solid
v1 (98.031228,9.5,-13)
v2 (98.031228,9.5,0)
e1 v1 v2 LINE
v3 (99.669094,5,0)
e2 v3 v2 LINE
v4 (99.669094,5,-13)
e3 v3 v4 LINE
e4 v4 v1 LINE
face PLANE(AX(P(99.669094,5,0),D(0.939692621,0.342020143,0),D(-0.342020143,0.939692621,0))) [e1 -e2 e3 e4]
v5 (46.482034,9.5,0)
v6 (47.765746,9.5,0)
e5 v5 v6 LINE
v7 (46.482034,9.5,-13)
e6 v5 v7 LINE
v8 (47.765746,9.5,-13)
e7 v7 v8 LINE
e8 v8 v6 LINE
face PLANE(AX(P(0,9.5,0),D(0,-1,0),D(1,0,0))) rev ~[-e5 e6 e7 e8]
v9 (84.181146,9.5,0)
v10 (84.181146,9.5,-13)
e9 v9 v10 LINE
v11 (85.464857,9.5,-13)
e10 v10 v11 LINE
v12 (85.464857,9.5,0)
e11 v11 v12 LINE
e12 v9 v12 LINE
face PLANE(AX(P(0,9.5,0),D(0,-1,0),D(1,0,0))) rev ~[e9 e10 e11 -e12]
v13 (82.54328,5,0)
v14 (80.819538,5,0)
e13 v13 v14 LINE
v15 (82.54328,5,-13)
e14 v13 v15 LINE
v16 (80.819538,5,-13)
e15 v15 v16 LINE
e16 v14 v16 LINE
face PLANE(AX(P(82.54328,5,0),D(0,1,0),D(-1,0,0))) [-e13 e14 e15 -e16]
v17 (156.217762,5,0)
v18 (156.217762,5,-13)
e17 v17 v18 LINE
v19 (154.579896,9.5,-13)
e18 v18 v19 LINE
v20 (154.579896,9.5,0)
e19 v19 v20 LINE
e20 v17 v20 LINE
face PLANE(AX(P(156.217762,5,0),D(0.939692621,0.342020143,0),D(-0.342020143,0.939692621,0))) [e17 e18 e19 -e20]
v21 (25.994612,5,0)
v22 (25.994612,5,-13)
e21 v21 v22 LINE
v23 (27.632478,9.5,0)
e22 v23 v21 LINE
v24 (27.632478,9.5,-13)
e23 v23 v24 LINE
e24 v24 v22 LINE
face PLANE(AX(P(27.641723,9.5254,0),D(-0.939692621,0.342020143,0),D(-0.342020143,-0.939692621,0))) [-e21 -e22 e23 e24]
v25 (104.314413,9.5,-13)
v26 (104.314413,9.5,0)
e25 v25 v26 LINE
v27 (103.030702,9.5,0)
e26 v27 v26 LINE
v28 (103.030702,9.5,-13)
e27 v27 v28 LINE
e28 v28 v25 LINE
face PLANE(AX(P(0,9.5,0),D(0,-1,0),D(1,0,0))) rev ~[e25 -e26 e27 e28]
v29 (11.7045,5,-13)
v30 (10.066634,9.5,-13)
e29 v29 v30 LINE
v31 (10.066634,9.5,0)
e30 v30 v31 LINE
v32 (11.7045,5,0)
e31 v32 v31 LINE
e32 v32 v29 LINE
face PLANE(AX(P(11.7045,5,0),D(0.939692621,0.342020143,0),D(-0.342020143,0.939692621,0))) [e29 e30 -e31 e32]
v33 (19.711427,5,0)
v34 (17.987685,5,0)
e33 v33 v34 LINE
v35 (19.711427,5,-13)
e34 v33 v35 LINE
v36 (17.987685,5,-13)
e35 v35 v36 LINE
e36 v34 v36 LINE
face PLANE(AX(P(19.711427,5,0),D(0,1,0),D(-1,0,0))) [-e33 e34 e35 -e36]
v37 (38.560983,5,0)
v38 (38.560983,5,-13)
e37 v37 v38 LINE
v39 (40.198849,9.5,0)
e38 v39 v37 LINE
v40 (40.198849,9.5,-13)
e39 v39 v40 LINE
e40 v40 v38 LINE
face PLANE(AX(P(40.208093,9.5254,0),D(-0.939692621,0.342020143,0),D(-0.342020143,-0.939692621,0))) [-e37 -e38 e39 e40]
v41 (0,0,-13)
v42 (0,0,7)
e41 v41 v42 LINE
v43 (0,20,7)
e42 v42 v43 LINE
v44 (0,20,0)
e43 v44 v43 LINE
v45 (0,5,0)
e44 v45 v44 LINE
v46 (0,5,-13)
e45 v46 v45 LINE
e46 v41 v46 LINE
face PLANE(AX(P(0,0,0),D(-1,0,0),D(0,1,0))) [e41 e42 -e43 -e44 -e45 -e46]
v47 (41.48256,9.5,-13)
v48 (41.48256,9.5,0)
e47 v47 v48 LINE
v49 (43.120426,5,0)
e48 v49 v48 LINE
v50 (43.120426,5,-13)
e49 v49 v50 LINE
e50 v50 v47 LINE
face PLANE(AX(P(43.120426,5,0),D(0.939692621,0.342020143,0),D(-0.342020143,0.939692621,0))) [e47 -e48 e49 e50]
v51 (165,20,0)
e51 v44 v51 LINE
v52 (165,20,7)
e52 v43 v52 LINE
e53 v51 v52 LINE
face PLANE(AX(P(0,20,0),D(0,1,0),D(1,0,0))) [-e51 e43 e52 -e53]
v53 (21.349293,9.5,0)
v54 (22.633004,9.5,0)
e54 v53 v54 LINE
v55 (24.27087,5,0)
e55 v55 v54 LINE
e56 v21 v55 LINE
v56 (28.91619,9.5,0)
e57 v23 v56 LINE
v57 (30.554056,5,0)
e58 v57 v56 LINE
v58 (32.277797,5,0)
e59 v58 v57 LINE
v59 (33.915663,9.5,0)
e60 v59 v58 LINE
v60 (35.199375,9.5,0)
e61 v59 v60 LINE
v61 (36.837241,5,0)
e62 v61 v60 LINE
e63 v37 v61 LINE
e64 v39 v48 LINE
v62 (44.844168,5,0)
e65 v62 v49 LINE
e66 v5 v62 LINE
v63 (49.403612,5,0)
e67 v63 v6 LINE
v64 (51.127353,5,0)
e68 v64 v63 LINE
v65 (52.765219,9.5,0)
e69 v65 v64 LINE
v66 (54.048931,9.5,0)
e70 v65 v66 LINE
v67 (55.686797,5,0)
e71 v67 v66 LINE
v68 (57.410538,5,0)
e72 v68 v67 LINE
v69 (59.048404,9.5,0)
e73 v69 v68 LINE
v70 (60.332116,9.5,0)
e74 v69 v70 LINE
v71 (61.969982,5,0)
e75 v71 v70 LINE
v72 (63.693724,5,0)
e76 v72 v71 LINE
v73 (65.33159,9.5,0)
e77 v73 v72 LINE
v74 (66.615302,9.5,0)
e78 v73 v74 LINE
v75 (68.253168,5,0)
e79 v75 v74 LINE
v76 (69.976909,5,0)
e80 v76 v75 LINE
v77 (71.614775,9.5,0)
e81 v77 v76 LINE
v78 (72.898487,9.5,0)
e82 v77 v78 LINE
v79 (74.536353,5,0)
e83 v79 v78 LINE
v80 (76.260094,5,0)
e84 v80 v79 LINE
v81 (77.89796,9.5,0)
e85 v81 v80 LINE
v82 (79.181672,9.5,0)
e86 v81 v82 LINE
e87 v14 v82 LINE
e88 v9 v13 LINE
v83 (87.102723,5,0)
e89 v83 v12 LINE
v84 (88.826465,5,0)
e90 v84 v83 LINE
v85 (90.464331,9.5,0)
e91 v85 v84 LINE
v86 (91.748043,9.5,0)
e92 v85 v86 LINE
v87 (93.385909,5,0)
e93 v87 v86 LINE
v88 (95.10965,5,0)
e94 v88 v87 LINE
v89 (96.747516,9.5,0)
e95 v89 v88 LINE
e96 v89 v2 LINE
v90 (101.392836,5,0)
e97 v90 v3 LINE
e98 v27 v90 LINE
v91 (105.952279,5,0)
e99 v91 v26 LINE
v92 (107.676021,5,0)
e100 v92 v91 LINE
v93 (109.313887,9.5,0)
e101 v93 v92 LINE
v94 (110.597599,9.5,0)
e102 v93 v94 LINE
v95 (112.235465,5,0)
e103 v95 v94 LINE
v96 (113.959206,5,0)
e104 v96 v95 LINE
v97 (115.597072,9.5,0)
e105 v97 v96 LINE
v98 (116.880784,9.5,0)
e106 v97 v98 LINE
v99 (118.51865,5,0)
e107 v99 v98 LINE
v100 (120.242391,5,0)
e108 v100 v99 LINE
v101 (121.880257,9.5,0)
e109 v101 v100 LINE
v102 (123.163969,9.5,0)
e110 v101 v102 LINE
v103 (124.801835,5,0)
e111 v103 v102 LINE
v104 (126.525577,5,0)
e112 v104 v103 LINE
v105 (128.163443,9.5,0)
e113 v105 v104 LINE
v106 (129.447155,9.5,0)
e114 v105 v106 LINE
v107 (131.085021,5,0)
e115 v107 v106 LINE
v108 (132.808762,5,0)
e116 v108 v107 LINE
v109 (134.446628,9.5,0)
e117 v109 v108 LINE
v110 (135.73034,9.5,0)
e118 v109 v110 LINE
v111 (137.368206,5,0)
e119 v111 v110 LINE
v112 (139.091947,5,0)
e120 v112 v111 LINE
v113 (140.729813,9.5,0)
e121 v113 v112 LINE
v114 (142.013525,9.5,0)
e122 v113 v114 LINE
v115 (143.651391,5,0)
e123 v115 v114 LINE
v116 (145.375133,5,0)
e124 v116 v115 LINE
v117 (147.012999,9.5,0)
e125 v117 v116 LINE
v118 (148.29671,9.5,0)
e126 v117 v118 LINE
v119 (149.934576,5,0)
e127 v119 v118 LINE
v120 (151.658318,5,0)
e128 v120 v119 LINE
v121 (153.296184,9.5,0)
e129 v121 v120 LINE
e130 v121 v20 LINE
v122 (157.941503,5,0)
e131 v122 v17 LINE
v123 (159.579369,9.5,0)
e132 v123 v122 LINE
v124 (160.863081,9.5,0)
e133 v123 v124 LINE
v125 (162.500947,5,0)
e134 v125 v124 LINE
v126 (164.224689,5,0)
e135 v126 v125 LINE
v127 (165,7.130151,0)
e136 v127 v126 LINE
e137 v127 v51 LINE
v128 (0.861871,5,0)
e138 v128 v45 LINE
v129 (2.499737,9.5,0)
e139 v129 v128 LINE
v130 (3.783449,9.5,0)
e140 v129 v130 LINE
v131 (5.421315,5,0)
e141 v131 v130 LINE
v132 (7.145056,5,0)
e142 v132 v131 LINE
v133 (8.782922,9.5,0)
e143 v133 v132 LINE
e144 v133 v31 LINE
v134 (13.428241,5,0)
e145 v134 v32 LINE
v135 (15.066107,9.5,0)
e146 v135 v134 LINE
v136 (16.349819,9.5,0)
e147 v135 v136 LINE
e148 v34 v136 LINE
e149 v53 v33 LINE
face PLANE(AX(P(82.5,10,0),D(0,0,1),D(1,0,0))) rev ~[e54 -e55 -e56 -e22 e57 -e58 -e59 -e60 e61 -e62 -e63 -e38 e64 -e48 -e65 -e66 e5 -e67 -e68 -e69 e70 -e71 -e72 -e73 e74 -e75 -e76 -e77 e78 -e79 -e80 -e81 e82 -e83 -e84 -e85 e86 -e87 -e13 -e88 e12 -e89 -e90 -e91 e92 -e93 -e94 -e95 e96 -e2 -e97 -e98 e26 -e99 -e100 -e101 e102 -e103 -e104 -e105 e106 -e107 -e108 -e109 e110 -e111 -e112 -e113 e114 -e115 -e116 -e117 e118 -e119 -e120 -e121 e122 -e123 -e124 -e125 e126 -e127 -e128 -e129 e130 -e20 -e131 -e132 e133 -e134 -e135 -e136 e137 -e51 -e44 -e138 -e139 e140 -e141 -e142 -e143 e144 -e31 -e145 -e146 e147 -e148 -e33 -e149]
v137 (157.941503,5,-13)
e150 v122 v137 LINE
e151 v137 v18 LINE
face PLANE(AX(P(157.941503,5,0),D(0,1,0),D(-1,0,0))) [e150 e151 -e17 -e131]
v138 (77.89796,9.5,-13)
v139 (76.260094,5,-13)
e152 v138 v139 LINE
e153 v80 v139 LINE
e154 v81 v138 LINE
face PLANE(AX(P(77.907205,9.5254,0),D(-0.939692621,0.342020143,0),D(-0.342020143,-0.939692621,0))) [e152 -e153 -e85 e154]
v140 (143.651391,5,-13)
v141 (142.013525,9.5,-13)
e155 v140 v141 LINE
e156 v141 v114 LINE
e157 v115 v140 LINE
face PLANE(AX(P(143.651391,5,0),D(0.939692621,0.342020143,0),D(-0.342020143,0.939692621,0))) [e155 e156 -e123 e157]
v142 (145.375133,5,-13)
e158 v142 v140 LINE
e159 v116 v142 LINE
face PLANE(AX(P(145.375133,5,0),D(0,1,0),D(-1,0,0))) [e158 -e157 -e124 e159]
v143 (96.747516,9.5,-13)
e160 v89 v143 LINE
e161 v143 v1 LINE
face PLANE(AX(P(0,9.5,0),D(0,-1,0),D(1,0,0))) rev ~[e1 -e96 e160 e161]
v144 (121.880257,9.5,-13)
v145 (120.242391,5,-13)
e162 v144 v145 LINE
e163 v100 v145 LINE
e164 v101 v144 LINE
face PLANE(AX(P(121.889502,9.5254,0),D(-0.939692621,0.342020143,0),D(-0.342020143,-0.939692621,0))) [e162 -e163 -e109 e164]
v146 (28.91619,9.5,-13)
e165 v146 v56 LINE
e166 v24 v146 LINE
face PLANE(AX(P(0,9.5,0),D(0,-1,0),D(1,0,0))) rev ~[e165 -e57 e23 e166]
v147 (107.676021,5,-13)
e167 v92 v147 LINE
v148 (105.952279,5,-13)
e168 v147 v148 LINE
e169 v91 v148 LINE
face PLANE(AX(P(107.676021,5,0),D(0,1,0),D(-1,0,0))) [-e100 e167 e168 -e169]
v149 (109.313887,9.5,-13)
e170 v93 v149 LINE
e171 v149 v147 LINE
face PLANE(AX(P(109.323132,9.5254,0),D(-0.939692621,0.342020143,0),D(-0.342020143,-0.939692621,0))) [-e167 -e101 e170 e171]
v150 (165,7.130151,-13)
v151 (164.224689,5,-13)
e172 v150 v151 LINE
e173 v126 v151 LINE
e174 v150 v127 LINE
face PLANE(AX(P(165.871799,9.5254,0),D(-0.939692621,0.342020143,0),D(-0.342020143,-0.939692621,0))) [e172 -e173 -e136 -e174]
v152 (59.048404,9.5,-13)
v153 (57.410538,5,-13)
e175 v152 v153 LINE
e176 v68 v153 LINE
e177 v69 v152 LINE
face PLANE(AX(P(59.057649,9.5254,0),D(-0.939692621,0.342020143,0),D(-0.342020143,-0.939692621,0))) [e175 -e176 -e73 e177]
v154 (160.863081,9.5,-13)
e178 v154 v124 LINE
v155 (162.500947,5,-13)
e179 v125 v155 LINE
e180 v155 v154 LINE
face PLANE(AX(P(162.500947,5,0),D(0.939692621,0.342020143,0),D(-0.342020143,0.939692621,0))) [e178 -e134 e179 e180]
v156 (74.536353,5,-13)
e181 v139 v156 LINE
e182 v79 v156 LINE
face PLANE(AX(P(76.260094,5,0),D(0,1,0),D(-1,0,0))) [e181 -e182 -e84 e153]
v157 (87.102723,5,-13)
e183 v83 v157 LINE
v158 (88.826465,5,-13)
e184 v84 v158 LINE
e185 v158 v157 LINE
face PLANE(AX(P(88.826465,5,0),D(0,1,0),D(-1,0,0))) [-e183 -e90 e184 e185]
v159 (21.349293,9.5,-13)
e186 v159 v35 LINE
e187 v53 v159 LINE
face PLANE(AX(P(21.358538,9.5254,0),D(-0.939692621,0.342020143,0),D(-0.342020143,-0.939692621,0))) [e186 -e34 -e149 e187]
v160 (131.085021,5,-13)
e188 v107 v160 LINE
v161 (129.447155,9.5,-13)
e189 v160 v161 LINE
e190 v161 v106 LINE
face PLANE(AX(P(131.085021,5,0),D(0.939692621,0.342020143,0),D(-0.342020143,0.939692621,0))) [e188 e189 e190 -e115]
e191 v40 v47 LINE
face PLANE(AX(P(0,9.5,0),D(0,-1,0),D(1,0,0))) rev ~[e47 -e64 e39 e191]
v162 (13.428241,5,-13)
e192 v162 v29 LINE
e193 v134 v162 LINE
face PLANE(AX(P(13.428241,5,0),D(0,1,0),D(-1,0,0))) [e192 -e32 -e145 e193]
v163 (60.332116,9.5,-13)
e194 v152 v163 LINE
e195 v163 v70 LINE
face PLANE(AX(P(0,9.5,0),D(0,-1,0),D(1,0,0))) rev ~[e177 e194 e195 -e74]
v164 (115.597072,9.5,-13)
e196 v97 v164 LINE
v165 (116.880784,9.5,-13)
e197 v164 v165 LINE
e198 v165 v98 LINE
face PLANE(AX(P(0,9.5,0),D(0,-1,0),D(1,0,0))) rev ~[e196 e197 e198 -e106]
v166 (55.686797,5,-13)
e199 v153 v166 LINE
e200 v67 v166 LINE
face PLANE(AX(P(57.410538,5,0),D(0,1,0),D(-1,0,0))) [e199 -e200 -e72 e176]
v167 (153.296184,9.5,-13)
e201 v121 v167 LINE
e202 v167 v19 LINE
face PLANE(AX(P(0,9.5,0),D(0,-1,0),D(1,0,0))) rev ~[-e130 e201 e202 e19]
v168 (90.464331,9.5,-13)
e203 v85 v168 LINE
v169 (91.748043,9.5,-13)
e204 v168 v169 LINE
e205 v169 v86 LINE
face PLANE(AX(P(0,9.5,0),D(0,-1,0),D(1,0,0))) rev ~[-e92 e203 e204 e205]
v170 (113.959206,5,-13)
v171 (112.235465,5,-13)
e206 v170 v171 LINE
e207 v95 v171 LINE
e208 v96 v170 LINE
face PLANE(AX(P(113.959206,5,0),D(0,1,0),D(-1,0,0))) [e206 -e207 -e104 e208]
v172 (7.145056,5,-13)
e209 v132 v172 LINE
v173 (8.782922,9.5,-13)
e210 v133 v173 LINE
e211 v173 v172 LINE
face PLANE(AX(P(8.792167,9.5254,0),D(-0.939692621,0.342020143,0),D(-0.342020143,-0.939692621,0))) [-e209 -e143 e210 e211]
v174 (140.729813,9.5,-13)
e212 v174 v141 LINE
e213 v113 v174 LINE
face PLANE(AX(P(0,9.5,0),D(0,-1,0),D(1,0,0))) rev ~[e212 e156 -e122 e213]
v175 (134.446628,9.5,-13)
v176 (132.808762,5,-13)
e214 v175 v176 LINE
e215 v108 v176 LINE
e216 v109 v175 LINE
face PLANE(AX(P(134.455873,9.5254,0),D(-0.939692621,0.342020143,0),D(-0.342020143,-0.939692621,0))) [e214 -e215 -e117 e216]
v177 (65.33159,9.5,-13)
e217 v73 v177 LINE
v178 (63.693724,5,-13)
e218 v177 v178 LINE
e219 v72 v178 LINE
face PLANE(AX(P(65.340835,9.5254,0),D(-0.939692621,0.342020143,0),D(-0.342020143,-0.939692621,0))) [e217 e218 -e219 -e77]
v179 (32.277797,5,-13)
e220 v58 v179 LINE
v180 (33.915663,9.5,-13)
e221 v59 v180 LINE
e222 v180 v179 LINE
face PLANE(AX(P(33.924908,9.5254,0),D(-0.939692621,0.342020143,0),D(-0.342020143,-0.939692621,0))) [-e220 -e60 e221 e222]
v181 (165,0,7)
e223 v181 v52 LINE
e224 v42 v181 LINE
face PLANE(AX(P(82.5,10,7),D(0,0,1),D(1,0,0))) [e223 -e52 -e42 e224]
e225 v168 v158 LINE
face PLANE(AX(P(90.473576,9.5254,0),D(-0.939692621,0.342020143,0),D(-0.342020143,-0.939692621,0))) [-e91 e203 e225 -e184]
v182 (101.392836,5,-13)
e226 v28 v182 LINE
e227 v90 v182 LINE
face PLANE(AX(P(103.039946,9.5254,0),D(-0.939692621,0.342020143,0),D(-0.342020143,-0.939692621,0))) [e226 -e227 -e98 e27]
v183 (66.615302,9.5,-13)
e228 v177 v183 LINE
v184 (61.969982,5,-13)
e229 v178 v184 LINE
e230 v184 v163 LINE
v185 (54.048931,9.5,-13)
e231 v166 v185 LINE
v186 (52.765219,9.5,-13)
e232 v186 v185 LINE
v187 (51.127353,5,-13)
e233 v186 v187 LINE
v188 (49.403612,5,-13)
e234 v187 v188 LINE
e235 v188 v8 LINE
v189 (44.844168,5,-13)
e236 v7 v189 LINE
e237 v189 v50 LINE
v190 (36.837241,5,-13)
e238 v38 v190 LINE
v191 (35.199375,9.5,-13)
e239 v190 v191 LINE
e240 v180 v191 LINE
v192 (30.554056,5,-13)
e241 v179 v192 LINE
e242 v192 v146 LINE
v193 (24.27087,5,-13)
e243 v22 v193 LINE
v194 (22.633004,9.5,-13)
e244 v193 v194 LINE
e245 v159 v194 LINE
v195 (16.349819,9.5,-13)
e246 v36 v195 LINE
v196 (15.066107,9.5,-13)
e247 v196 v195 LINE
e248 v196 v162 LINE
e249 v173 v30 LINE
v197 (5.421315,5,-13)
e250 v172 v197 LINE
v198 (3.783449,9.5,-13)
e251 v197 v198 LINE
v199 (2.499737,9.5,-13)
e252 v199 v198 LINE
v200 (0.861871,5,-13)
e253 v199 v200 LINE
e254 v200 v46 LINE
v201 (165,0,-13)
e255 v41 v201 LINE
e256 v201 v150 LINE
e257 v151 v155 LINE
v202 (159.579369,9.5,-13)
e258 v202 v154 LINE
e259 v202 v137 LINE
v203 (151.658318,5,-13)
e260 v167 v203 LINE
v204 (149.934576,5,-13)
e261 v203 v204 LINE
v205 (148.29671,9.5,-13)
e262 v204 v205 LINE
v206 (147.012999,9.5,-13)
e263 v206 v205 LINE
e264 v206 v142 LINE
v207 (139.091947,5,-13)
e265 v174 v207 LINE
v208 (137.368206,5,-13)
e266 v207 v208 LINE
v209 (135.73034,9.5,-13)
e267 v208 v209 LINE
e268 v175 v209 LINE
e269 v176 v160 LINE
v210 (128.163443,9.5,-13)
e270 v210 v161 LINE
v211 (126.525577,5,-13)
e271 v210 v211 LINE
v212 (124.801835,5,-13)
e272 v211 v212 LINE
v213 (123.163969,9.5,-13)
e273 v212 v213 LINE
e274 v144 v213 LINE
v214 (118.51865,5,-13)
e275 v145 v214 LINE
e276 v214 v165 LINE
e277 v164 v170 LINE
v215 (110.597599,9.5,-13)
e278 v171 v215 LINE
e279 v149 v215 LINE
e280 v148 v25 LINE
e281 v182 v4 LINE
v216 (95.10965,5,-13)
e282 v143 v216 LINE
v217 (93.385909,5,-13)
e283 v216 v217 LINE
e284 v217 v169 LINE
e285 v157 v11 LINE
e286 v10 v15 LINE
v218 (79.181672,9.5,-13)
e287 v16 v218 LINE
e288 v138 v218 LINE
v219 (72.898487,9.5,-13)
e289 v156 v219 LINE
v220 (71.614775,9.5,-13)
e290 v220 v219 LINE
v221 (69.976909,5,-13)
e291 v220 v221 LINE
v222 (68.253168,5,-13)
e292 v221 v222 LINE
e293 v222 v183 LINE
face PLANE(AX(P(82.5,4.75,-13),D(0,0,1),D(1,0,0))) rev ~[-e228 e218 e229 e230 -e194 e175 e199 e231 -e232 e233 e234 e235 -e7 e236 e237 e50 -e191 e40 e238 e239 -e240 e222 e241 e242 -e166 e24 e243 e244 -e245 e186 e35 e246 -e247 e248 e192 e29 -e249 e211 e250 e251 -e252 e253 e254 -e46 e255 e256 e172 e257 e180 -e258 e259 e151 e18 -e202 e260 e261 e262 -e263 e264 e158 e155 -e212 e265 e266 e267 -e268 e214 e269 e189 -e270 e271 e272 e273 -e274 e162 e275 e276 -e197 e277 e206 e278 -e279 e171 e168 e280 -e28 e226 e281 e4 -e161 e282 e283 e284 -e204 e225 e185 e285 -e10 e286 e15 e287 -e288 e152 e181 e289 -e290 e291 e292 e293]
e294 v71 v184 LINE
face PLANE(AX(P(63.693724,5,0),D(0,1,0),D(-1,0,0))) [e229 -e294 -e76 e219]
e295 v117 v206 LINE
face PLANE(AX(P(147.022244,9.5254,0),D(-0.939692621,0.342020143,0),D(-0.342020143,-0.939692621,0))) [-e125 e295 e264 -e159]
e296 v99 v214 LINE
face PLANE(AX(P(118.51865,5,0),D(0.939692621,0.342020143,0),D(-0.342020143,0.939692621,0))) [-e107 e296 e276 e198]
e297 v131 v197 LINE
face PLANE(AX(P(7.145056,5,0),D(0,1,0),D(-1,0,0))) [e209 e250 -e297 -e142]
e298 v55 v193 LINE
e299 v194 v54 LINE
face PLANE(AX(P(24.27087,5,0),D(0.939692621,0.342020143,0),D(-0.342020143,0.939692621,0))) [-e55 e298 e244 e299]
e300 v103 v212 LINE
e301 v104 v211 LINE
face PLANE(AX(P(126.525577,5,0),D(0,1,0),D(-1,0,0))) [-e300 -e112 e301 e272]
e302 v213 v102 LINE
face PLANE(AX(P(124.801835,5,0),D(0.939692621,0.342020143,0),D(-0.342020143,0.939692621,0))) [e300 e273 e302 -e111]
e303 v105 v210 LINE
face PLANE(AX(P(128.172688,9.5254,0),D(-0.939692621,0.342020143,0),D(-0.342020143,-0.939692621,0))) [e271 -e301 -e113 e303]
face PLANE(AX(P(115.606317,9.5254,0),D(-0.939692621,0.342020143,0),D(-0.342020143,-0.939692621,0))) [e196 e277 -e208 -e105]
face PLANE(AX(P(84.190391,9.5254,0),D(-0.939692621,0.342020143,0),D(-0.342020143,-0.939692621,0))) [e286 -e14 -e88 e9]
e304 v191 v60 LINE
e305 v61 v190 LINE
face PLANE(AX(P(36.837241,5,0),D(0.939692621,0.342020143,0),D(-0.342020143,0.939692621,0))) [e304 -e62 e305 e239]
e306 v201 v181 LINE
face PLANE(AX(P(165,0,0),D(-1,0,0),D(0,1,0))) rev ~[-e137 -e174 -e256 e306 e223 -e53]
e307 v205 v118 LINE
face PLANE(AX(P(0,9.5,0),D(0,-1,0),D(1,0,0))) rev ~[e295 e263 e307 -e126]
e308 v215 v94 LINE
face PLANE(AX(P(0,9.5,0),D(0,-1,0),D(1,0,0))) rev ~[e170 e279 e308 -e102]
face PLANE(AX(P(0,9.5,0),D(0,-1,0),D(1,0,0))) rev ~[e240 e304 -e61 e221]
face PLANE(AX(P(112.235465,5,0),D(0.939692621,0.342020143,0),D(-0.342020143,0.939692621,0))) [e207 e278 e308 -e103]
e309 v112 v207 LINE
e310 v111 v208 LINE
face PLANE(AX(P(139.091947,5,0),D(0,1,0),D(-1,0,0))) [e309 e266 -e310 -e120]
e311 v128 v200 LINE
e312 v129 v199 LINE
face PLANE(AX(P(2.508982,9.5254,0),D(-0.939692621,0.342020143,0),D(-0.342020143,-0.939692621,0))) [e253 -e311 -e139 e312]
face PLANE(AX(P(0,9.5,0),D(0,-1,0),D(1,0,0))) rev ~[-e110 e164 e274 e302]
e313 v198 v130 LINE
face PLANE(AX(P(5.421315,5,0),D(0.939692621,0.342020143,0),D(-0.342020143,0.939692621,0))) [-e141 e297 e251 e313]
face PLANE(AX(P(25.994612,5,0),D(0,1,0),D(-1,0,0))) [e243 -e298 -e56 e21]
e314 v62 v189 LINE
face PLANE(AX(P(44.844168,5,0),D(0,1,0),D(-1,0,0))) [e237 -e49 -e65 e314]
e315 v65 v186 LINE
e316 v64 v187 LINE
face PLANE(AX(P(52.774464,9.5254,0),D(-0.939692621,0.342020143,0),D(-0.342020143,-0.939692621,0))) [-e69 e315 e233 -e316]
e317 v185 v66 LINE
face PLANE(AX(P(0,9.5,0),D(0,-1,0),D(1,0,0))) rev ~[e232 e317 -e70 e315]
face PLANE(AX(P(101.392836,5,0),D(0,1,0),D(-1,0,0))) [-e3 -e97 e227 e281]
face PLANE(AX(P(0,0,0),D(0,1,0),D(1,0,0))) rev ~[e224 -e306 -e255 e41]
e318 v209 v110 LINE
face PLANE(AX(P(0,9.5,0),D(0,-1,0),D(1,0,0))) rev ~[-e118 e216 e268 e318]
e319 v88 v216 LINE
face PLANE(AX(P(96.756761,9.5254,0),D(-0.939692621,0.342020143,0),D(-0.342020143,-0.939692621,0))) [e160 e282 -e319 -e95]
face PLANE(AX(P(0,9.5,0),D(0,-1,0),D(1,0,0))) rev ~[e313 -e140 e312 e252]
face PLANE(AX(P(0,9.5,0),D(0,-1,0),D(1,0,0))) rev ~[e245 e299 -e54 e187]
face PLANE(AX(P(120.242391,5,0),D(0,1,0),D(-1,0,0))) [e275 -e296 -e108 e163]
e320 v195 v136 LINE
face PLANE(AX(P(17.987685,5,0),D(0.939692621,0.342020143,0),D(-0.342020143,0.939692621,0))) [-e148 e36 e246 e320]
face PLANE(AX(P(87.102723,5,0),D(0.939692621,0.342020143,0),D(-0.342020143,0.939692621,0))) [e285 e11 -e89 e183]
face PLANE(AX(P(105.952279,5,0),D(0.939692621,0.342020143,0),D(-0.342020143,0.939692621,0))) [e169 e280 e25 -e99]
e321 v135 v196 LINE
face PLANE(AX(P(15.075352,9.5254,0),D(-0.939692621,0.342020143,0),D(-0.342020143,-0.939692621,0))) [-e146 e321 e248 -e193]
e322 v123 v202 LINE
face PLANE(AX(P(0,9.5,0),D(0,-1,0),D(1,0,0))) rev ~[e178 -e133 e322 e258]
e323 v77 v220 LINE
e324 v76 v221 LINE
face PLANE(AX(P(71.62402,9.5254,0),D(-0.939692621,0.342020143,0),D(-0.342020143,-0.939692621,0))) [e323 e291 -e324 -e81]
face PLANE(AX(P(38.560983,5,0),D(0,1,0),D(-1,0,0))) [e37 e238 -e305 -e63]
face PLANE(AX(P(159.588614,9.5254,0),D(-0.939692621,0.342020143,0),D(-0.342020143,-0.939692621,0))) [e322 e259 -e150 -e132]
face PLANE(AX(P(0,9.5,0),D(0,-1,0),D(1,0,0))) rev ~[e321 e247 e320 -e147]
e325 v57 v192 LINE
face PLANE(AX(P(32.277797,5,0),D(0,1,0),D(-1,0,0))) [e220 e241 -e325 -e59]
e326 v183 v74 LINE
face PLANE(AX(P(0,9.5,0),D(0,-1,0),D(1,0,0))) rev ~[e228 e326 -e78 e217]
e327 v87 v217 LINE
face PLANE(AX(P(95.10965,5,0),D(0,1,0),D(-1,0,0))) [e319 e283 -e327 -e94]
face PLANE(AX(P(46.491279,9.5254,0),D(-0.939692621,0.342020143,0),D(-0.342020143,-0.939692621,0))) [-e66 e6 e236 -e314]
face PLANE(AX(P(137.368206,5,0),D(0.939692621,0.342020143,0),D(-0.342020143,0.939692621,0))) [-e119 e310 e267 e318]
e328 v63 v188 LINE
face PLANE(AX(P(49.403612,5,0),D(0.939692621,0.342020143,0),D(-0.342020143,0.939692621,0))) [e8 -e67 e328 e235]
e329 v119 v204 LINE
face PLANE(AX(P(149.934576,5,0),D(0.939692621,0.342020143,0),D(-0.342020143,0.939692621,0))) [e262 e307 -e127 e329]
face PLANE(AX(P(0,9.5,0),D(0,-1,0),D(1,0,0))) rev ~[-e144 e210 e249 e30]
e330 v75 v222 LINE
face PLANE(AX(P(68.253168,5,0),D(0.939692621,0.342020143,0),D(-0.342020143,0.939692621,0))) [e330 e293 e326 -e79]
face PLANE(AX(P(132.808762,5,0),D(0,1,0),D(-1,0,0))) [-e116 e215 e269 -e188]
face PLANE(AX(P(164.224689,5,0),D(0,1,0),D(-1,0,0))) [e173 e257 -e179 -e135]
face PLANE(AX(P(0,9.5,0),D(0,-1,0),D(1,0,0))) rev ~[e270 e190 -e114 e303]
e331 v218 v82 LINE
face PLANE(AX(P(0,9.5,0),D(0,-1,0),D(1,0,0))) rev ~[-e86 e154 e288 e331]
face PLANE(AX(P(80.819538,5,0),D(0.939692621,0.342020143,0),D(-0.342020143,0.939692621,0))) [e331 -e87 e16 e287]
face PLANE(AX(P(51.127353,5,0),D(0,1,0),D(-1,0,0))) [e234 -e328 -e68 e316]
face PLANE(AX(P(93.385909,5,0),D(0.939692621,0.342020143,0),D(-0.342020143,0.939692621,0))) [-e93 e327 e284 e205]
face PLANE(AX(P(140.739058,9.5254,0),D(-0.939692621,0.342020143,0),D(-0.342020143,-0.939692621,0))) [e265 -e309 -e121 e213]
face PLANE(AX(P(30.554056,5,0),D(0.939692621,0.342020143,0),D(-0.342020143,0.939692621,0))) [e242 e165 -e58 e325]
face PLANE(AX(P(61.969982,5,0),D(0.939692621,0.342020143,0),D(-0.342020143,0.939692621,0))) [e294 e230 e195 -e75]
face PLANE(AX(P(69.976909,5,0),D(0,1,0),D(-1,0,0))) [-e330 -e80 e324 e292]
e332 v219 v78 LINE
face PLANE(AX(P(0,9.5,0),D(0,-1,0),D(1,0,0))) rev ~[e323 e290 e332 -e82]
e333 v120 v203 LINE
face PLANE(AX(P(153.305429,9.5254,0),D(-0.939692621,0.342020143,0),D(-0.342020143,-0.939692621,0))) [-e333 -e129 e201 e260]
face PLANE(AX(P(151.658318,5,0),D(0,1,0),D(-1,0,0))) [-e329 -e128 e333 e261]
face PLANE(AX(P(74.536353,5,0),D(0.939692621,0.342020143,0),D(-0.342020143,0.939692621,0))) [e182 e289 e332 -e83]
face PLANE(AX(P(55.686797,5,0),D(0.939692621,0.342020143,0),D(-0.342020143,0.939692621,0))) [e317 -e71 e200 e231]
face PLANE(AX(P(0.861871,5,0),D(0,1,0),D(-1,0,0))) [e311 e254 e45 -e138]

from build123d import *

# Parameters (mm, degrees)
BLANKSKE_W         = 165
BLANKSKE_H         = 9.5
BLANK_DEPTH        = 13
TOOTHCUTSIM_DEPTH  = 166.78374468
TEETHCUTS_COUNT    = 27
TEETHCUTS_PITCH    = 6.2831853
ESQUISSE1_W        = 165
ESQUISSE1_H        = 20
BOSS_EXTRU_1_DEPTH = 7


with BuildPart() as part:
    # BlankSke → Blank (new body)
    with BuildSketch(Plane.XY):
        with Locations((82.5, 4.75)):
            Rectangle(BLANKSKE_W, BLANKSKE_H)
    extrude(amount=-BLANK_DEPTH)

    # TooCutSkeSim → ToothCutSim (cut, through all)
    with BuildSketch(Plane.XY):
        Polygon((0.861870739, 5), (-0.861870739, 5), (-2.508981637, 9.5254), (2.508981637, 9.5254), align=None)
    toothcutsim = extrude(amount=-TOOTHCUTSIM_DEPTH, mode=Mode.SUBTRACT)

    # TeethCuts: ToothCutSim ×27
    with Locations(*[(i * TEETHCUTS_PITCH, 0, 0) for i in range(1, TEETHCUTS_COUNT)]):
        add(toothcutsim, mode=Mode.SUBTRACT)

    # Esquisse1 → Boss.-Extru.1 (add)
    with BuildSketch(Plane.XY):
        with Locations((82.5, 10)):
            Rectangle(ESQUISSE1_W, ESQUISSE1_H)
    extrude(amount=BOSS_EXTRU_1_DEPTH)


solid = part.part
